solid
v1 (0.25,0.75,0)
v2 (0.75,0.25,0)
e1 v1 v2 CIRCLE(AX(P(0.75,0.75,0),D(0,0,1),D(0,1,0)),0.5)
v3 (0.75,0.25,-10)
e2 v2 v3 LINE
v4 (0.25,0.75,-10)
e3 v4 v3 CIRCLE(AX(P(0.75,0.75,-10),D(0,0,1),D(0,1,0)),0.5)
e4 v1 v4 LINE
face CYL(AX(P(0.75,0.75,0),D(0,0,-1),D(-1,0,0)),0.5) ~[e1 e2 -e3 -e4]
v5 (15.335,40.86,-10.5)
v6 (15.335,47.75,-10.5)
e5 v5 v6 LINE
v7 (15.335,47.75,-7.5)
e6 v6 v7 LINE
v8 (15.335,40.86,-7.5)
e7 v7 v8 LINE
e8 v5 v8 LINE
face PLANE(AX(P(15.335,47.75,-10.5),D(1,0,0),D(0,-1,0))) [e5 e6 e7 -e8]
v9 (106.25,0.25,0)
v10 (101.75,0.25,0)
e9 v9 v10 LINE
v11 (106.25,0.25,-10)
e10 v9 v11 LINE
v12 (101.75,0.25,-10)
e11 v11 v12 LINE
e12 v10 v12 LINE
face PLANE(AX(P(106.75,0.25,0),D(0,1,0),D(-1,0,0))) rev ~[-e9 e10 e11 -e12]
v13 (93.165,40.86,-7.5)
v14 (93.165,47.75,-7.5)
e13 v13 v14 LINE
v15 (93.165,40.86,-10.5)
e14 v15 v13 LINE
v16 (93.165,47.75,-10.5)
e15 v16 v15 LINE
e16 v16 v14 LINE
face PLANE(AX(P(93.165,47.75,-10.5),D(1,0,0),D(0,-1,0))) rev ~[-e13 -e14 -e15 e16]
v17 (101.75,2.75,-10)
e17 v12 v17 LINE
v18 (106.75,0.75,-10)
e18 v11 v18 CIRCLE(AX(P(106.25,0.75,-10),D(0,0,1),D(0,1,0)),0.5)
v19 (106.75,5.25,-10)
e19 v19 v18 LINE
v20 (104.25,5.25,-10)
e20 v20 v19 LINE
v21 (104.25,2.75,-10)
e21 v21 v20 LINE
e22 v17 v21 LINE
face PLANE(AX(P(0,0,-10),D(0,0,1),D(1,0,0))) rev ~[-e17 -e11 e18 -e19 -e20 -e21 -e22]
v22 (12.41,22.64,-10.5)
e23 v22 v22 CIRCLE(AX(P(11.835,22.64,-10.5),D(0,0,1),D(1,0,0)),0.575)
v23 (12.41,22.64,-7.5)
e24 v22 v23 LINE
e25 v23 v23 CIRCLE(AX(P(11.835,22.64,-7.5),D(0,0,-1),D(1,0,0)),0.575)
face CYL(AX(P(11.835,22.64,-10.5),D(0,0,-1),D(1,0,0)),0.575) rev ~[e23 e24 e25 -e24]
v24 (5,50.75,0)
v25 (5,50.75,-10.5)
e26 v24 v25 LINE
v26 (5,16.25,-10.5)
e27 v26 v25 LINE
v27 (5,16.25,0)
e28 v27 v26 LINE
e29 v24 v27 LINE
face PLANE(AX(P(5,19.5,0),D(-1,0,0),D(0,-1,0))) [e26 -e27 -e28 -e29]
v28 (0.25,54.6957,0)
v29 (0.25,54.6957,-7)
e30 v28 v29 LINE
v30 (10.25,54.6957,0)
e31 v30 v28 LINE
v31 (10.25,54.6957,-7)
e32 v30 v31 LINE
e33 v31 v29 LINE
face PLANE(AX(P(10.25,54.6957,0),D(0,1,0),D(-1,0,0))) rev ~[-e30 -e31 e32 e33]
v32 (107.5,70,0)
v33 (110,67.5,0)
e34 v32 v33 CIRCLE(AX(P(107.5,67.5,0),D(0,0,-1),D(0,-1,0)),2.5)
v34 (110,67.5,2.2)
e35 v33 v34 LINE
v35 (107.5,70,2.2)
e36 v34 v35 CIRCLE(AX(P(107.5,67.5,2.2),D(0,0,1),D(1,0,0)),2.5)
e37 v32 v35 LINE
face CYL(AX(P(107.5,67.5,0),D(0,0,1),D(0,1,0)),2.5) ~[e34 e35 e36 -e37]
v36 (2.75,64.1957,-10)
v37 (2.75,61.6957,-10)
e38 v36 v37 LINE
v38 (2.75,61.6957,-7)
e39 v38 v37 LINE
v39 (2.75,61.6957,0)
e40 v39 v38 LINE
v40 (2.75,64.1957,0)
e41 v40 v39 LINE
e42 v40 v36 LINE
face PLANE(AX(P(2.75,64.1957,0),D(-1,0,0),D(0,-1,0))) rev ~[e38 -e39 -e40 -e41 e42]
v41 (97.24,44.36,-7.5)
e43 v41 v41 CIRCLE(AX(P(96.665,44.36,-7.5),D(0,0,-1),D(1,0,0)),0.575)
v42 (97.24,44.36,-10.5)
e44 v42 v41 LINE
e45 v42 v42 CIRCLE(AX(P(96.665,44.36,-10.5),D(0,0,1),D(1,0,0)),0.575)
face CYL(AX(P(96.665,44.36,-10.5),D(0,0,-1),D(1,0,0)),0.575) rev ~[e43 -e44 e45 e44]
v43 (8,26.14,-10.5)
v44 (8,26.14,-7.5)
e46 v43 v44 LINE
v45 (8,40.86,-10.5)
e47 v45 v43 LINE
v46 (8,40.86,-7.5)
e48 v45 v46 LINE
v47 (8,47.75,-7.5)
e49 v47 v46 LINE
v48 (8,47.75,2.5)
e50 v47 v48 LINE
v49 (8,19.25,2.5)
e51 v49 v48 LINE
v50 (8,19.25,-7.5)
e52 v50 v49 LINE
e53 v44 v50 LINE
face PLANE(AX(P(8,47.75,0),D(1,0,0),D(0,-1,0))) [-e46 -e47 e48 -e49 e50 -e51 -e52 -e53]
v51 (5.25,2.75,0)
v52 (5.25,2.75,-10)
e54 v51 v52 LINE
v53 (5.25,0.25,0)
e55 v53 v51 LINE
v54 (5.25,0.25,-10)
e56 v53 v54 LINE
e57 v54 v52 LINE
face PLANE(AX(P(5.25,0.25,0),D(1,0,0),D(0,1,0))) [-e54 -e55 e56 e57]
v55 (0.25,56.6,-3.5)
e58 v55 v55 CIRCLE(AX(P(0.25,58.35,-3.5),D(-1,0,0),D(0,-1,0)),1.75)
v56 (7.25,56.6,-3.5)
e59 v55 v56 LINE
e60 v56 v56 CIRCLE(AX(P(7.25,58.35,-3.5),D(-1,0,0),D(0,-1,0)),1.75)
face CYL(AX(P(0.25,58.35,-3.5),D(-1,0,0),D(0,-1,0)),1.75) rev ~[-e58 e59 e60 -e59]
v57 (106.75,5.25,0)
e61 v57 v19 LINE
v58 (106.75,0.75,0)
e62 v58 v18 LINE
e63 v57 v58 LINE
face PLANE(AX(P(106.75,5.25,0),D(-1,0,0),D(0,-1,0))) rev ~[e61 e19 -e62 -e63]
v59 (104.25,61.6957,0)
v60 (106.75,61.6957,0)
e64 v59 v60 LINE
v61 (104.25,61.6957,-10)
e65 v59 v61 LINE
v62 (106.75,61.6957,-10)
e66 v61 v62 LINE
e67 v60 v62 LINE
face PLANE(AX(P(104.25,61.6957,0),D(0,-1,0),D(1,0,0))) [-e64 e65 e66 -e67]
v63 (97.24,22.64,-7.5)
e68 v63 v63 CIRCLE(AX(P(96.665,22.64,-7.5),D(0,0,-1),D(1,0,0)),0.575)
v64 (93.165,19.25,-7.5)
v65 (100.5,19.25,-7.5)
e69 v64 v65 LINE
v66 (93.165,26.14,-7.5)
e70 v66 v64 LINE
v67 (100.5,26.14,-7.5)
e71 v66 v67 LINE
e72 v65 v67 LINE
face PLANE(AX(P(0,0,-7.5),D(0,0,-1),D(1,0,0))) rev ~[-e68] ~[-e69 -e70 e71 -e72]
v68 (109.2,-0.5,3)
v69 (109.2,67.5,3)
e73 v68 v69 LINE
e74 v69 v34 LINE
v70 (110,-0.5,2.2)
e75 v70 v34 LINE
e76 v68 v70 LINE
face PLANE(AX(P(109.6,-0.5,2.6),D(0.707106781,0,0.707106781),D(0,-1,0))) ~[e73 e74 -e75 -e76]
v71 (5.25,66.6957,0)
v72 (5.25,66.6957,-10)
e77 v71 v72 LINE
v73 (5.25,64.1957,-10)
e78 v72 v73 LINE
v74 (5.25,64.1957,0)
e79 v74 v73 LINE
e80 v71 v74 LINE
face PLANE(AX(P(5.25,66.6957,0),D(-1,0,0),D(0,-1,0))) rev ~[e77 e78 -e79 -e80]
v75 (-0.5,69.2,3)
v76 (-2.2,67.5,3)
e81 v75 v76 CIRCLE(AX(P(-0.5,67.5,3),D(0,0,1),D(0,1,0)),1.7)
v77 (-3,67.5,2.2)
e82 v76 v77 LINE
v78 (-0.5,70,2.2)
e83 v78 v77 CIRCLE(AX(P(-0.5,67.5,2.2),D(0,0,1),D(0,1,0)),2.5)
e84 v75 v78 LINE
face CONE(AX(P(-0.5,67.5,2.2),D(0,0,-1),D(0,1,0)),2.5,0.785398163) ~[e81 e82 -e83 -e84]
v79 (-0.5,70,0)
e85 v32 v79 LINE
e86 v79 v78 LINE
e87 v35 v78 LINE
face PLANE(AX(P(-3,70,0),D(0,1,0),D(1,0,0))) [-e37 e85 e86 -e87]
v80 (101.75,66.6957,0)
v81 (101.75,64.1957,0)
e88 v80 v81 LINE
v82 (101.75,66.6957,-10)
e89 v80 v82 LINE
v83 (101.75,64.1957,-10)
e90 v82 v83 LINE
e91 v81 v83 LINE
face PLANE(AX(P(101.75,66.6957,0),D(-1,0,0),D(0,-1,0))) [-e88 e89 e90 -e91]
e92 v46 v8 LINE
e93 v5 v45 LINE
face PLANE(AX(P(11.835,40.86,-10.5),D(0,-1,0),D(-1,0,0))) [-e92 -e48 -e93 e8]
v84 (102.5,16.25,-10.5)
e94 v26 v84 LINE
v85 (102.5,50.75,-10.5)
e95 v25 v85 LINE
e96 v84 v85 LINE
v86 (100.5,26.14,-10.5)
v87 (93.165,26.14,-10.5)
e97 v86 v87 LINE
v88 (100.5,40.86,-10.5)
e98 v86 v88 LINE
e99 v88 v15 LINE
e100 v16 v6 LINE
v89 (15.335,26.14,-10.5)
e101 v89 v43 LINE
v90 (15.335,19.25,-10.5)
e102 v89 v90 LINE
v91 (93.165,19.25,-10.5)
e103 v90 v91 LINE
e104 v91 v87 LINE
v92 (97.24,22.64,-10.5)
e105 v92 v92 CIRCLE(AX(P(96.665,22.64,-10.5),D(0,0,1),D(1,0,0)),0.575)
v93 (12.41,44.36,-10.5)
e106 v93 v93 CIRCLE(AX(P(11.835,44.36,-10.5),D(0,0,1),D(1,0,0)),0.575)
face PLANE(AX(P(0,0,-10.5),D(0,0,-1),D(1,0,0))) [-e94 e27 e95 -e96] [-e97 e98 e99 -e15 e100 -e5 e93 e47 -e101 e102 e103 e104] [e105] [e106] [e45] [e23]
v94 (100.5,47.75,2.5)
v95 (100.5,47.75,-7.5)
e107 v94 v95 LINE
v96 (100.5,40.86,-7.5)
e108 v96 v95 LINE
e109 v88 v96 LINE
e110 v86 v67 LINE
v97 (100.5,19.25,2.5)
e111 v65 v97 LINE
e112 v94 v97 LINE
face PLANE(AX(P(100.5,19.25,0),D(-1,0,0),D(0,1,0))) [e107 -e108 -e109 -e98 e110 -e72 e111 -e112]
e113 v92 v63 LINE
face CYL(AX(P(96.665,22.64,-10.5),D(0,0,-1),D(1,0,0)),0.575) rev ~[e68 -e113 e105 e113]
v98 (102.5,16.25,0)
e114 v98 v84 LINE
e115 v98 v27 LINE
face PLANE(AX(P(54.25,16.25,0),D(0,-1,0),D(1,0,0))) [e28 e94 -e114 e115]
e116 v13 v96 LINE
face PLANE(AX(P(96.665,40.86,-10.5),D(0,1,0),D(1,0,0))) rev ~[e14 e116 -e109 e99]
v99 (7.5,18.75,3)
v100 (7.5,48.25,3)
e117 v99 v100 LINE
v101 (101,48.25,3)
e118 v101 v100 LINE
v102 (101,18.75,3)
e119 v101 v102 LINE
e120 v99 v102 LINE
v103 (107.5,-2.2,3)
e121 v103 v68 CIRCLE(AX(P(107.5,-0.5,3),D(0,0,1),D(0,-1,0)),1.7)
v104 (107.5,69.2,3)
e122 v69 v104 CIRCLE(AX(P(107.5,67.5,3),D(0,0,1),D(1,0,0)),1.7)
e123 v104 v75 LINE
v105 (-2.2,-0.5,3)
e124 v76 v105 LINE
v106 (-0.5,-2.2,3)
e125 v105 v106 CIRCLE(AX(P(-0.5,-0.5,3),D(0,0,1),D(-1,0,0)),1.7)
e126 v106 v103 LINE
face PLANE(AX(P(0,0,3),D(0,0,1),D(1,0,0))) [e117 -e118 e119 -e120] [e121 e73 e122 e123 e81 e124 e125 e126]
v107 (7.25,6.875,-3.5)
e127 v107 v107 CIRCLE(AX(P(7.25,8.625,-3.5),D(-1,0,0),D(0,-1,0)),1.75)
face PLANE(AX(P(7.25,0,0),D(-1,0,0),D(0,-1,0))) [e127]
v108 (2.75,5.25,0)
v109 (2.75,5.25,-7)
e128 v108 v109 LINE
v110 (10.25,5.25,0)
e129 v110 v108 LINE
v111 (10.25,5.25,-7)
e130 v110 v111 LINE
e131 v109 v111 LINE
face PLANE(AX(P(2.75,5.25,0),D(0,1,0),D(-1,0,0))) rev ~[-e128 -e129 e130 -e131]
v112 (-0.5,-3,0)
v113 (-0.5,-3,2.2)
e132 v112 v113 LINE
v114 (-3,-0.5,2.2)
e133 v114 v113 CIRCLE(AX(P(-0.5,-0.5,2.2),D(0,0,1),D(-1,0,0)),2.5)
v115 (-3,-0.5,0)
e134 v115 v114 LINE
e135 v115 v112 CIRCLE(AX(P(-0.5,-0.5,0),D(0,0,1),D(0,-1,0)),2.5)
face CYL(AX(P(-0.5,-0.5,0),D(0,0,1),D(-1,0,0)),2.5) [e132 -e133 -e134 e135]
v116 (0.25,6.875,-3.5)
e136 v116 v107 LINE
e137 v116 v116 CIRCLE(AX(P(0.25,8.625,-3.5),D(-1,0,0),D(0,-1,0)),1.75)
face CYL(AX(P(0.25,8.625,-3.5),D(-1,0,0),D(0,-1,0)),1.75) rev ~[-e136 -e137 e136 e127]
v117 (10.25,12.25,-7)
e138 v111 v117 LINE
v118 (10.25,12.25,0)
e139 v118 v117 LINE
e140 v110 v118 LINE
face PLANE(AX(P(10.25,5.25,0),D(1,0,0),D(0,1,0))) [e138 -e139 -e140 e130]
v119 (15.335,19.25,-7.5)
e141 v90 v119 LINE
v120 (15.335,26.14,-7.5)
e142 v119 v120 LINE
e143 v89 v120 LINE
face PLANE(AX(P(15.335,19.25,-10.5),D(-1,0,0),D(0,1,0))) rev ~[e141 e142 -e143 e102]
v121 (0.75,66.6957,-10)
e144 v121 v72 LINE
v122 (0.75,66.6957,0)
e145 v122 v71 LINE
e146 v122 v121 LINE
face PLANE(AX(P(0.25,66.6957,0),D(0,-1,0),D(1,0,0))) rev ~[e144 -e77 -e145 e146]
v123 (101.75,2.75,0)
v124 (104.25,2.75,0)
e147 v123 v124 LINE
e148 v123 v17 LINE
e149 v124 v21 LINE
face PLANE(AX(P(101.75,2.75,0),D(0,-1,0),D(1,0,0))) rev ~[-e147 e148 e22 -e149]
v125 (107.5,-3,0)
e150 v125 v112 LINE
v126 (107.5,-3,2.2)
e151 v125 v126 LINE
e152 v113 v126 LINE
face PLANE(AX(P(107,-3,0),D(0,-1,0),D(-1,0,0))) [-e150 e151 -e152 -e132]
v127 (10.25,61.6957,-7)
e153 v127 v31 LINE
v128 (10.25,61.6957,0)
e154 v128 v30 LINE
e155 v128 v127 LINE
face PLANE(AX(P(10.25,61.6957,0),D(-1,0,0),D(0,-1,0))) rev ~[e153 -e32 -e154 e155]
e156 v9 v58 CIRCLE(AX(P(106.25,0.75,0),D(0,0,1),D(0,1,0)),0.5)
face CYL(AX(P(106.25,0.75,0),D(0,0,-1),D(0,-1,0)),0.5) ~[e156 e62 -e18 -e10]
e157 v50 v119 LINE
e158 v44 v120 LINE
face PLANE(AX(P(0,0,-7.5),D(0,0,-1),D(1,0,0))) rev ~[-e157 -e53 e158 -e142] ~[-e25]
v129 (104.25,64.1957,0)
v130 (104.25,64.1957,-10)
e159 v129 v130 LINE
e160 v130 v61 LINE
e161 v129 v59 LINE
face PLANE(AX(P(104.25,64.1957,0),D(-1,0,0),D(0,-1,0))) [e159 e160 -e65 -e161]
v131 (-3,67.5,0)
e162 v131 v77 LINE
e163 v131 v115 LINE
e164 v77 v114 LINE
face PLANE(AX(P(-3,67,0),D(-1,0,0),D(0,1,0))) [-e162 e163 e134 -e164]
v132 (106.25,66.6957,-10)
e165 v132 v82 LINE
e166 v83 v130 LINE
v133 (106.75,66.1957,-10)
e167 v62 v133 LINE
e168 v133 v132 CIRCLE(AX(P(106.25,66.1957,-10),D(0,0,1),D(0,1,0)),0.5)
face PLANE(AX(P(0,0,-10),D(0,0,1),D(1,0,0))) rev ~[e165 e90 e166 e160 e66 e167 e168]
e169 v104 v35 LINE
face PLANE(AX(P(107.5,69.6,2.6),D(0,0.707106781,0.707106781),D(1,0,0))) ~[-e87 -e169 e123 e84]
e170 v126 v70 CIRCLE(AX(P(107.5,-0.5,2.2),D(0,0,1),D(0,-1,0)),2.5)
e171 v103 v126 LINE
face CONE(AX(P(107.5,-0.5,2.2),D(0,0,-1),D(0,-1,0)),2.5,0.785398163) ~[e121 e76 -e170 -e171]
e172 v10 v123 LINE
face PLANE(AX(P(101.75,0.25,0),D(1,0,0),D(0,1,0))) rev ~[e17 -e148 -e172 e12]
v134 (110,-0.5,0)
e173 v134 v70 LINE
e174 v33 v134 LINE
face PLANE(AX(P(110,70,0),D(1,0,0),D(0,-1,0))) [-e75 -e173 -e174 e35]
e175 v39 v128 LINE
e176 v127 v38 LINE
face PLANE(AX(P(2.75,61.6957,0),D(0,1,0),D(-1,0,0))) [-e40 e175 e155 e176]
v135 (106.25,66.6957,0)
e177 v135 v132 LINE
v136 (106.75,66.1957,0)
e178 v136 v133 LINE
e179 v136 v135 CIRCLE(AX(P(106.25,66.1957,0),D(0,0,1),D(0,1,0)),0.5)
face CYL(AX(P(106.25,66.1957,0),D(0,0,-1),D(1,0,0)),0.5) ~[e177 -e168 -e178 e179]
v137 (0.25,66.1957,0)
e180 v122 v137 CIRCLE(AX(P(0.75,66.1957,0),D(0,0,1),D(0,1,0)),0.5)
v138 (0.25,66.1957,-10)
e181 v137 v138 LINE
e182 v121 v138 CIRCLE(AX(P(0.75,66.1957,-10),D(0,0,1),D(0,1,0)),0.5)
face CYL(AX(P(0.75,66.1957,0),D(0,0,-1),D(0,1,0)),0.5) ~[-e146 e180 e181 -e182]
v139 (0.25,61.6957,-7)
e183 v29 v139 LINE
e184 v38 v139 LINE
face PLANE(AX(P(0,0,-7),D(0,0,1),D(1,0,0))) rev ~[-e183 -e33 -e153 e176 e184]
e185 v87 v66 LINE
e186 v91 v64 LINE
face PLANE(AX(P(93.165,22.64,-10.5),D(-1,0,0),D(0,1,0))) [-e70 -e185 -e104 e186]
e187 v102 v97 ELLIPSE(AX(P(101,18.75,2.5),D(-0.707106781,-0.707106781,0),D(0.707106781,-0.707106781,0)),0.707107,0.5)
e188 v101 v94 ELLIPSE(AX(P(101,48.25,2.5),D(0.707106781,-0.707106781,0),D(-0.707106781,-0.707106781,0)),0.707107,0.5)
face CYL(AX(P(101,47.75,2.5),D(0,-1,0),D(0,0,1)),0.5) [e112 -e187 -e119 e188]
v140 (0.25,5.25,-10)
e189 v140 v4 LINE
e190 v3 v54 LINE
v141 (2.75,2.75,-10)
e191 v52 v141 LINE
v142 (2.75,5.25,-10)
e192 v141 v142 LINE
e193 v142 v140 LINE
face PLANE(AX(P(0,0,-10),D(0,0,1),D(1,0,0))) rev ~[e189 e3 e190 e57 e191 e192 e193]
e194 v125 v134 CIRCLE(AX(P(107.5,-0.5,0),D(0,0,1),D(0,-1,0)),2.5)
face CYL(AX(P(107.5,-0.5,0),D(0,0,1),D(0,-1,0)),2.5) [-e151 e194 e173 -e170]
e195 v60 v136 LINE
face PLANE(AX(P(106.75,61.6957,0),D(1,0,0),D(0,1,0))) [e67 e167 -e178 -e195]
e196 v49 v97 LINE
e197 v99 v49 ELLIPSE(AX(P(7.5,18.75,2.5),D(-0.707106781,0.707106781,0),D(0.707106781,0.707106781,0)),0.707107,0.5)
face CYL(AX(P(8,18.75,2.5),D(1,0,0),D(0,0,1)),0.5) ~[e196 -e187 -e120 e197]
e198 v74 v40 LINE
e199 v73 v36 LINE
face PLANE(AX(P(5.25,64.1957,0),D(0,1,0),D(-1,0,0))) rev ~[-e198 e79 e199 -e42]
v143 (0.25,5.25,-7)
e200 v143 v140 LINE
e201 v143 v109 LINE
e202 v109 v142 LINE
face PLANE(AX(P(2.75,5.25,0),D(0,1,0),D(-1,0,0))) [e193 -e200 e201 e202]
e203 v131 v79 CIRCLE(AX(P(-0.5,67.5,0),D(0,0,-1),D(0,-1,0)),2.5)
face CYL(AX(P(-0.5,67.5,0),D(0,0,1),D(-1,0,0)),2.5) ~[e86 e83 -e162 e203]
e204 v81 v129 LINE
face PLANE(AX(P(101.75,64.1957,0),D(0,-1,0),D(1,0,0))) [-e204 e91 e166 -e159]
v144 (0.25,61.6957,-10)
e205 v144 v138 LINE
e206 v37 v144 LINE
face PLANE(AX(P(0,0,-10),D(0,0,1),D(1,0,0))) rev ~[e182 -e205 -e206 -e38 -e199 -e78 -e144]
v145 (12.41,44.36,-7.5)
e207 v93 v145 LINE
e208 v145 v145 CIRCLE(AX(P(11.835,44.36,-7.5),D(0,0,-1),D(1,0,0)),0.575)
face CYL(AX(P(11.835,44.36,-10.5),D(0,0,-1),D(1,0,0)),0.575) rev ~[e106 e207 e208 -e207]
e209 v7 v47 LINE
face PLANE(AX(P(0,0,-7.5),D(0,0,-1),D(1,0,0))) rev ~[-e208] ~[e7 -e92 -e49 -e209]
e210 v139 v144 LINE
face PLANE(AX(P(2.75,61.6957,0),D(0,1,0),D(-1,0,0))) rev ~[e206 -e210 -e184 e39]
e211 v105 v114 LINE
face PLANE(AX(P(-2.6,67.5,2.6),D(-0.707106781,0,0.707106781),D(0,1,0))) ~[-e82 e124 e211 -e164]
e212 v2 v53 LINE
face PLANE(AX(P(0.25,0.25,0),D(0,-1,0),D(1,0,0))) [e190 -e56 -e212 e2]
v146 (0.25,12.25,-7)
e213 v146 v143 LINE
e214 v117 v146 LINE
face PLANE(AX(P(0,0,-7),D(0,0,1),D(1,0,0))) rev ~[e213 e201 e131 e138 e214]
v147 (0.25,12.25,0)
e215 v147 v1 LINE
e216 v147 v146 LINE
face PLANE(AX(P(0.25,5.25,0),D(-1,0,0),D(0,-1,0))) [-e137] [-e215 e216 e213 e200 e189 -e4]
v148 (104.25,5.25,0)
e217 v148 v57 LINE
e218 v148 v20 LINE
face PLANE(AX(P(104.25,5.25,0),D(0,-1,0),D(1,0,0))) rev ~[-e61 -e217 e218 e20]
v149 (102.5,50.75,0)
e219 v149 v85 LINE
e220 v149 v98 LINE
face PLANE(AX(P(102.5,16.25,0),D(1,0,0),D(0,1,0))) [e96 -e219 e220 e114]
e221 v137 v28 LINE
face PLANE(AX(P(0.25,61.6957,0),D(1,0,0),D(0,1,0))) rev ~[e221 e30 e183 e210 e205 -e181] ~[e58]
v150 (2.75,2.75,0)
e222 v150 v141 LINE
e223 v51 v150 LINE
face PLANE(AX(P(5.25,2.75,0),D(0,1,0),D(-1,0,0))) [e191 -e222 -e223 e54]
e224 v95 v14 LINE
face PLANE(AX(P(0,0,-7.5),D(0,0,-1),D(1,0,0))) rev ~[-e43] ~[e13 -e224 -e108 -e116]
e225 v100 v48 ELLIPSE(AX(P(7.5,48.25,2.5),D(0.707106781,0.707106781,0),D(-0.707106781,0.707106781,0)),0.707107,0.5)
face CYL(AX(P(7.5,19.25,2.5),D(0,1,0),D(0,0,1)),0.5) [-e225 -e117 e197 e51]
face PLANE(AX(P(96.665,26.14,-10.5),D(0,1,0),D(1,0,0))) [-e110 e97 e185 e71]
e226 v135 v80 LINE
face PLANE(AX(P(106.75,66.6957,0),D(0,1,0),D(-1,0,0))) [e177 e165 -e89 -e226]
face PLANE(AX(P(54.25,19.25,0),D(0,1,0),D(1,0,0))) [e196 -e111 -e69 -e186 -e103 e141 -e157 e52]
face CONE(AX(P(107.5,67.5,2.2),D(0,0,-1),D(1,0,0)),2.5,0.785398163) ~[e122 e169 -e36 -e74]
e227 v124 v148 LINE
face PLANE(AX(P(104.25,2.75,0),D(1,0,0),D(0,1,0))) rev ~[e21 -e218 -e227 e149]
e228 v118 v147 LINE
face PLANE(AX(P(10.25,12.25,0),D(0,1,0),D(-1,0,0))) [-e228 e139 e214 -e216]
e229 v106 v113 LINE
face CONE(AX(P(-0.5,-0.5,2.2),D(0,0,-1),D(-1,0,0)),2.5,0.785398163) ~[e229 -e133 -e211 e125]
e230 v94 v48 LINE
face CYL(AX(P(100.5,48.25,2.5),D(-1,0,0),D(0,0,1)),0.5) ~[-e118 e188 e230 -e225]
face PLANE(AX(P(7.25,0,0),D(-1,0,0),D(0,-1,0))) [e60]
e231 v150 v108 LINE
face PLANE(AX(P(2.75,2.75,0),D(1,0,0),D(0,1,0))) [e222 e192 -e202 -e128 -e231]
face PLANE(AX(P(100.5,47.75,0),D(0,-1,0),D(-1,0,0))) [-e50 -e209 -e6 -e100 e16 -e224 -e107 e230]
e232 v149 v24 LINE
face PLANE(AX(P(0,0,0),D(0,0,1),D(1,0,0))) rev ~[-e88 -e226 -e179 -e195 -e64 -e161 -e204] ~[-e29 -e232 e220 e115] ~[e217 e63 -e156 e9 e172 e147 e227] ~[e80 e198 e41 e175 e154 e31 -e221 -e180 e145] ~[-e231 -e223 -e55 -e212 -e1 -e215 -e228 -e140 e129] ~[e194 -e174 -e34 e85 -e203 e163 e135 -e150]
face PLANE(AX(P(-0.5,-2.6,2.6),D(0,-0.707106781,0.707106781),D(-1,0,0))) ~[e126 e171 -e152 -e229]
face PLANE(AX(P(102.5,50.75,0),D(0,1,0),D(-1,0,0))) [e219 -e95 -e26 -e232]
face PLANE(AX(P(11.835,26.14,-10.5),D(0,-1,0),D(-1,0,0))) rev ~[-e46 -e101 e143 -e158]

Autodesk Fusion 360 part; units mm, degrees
sketch "Sketch1" plane through (0, 0, 0) normal (0, 0, 1) x (1, 0, 0)
  line L0 (0, 0) -> (107, 0)
  line L1 (107, 0) -> (107, 67)
  line L2 (107, 67) -> (0, 67)
  line L3 (0, 67) -> (0, 0)
  line L4 (-3, 67) -> (-3, 70)
  line L5 (-3, 70) -> (0, 70)
  line L6 (110, 0) -> (110, -3)
  line L7 (110, -3) -> (107, -3)
  line L8 (-3, 70) -> (110, 70)
  line L9 (110, 70) -> (110, -3)
  line L10 (110, -3) -> (-3, -3)
  line L11 (-3, -3) -> (-3, 70)
  dimension "d1" = 67
  dimension "d2" = 107
  dimension "d3" = 3
  dimension "d4" = 3
  dimension "d5" = 3
extrude "Extrude1" add sketch "Sketch1" along normal blind 3
extrude "Extrude2" add sketch "Sketch1" along normal blind 3 contours L0 L1 L2 L3
fillet "Fillet1" radius 2.5 4 edges at (-3, 70, 1.5) (110, 70, 1.5) (110, -3, 1.5) (-3, -3, 1.5)
sketch "Sketch2" plane through (0, 0, 0) normal (0, 0, 1) x (1, 0, 0)
  line L0 (117.8476, 33.4729) -> (-7.2698, 33.4729)
  line L1 (53.5, 5) -> (53.5, 52.788)
  line L2 (0, 67) -> (0, 0)
  line L3 (2.75, 2.75) -> (2.75, 5.25)
  line L4 (2.75, 5.25) -> (0.25, 5.25)
  line L5 (0.25, 5.25) -> (0.25, 0.25)
  line L6 (0, 0) -> (107, 0)
  line L7 (0.25, 0.25) -> (5.25, 0.25)
  line L8 (5.25, 0.25) -> (5.25, 2.75)
  line L9 (5.25, 2.75) -> (2.75, 2.75)
  line L10 (5.25, 66.6957) -> (5.25, 64.1957)
  line L11 (5.25, 64.1957) -> (2.75, 64.1957)
  line L12 (2.75, 64.1957) -> (2.75, 61.6957)
  line L13 (2.75, 61.6957) -> (0.25, 61.6957)
  line L14 (0.25, 61.6957) -> (0.25, 66.6957)
  line L15 (0.25, 66.6957) -> (5.25, 66.6957)
  line L16 (101.75, 0.25) -> (101.75, 2.75)
  line L17 (106.75, 0.25) -> (101.75, 0.25)
  line L18 (106.75, 5.25) -> (106.75, 0.25)
  line L19 (104.25, 5.25) -> (106.75, 5.25)
  line L20 (104.25, 2.75) -> (104.25, 5.25)
  line L21 (101.75, 2.75) -> (104.25, 2.75)
  line L22 (101.75, 64.1957) -> (104.25, 64.1957)
  line L23 (101.75, 66.6957) -> (101.75, 64.1957)
  line L24 (106.75, 66.6957) -> (101.75, 66.6957)
  line L25 (106.75, 61.6957) -> (106.75, 66.6957)
  line L26 (104.25, 61.6957) -> (106.75, 61.6957)
  line L27 (104.25, 64.1957) -> (104.25, 61.6957)
  line L28 (0.25, 5.25) -> (10.25, 5.25)
  line L29 (10.25, 5.25) -> (10.25, 12.25)
  line L30 (10.25, 12.25) -> (0.25, 12.25)
  line L31 (0.25, 12.25) -> (0.25, 5.25)
  line L32 (0.25, 61.6957) -> (10.25, 61.6957)
  line L33 (10.25, 61.6957) -> (10.25, 54.6957)
  line L34 (10.25, 54.6957) -> (0.25, 54.6957)
  line L35 (0.25, 54.6957) -> (0.25, 61.6957)
  dimension "d14" = 53.5
  dimension "d16" = 5
  dimension "d17" = 0.25
  dimension "d19" = 5
  dimension "d55" = 10
  dimension "d56" = 7
  dimension "d57" = 10
  dimension "d58" = 7
extrude "Extrude3" add sketch "Sketch2" against normal blind 10 contours L3 L4 L5 L7 L8 L9 L28 | L10 L11 L12 L13 L14 L15 L32 | L16 L17 L18 L19 L20 L21 | L22 L23 L24 L25 L26 L27
fillet "Fillet2" radius 0.5 4 edges at (106.75, 0.25, -5) (106.75, 66.6957, -5) (0.25, 66.6957, -5) (0.25, 0.25, -5)
sketch "Sketch3" plane through (0, 0, 0) normal (0, 0, -1) x (1, 0, 0)
  line L0 (101.75, -0.25) -> (106.25, -0.25)
  arc A0 (106.75, -0.75) -> (106.25, -0.25) centre (106.25, -0.75) ccw
  line L1 (106.75, -0.75) -> (106.75, -5.25)
  line L2 (106.75, -5.25) -> (104.25, -5.25)
  line L3 (104.25, -5.25) -> (104.25, -2.75)
  line L4 (104.25, -2.75) -> (101.75, -2.75)
  line L5 (101.75, -2.75) -> (101.75, -0.25)
  line L6 (2.75, -2.75) -> (2.75, -5.25)
  line L7 (2.75, -5.25) -> (0.25, -5.25)
  line L8 (0.25, -5.25) -> (0.25, -0.75)
  arc A1 (0.75, -0.25) -> (0.25, -0.75) centre (0.75, -0.75) ccw
  line L9 (0.75, -0.25) -> (5.25, -0.25)
  line L10 (5.25, -0.25) -> (5.25, -2.75)
  line L11 (5.25, -2.75) -> (2.75, -2.75)
  line L12 (104.25, -61.6957) -> (106.75, -61.6957)
  line L13 (106.75, -61.6957) -> (106.75, -66.1957)
  arc A2 (106.25, -66.6957) -> (106.75, -66.1957) centre (106.25, -66.1957) ccw
  line L14 (106.25, -66.6957) -> (101.75, -66.6957)
  line L15 (101.75, -66.6957) -> (101.75, -64.1957)
  line L16 (101.75, -64.1957) -> (104.25, -64.1957)
  line L17 (104.25, -64.1957) -> (104.25, -61.6957)
  line L18 (0.25, -61.6957) -> (2.75, -61.6957)
  line L19 (2.75, -61.6957) -> (2.75, -64.1957)
  line L20 (2.75, -64.1957) -> (5.25, -64.1957)
  line L21 (5.25, -64.1957) -> (5.25, -66.6957)
  line L22 (5.25, -66.6957) -> (0.75, -66.6957)
  arc A3 (0.25, -66.1957) -> (0.75, -66.6957) centre (0.75, -66.1957) ccw
  line L23 (0.25, -66.1957) -> (0.25, -61.6957)
  arc A4 (-0.5, 3) -> (-3, 0.5) centre (-0.5, 0.5) ccw
  line L24 (-3, 0.5) -> (-3, -67.5)
  arc A5 (-3, -67.5) -> (-0.5, -70) centre (-0.5, -67.5) ccw
  line L25 (-0.5, -70) -> (107.5, -70)
  arc A6 (107.5, -70) -> (110, -67.5) centre (107.5, -67.5) ccw
  line L26 (110, -67.5) -> (110, 0.5)
  arc A7 (110, 0.5) -> (107.5, 3) centre (107.5, 0.5) ccw
  line L27 (107.5, 3) -> (-0.5, 3)
  line L28 (8, -19.25) -> (100.5, -19.25)
  line L29 (100.5, -19.25) -> (100.5, -47.75)
  line L30 (100.5, -47.75) -> (8, -47.75)
  line L31 (8, -47.75) -> (8, -19.25)
  line L32 (54.25, -19.25) -> (54.25, 3)
  line L33 (54.25, -47.75) -> (54.25, -70)
  line L34 (102.5, -47.75) -> (102.5, -50.75)
  line L35 (102.5, -50.75) -> (100.5, -50.75)
  line L36 (5, -19.5) -> (5, -16.25)
  line L37 (5, -16.25) -> (8, -16.25)
  line L38 (5, -16.25) -> (102.5, -16.25)
  line L39 (102.5, -16.25) -> (102.5, -50.75)
  line L40 (102.5, -50.75) -> (5, -50.75)
  line L41 (5, -50.75) -> (5, -16.25)
  dimension "d25" = 28.5
  dimension "d26" = 92.5
  dimension "d27" = 7.75
  dimension "d28" = 2
  dimension "d29" = 3
  dimension "d30" = 3
extrude "Extrude4" cut sketch "Sketch3" against normal blind 5 contours L28 L29 L30 L31
extrude "Extrude5" add sketch "Sketch3" along normal blind 10.5 contours L28 L29 L30 L32 L33 L34 L35 L38 L39 L40 | L28 L30 L31 L32 L33 L36 L37 L38 L40 L41
sketch "Sketch4" plane through (0, 0, -10.5) normal (0, 0, -1) x (1, 0, 0)
  line L0 (100.5, -47.75) -> (8, -47.75)
  line L1 (8, -47.75) -> (8, -19.25)
  line L2 (8, -19.25) -> (100.5, -19.25)
  line L3 (100.5, -19.25) -> (100.5, -47.75)
  line L4 (5, -50.75) -> (102.5, -50.75)
  line L5 (102.5, -50.75) -> (102.5, -16.25)
  line L6 (102.5, -16.25) -> (5, -16.25)
  line L7 (5, -16.25) -> (5, -50.75)
  circle A0 centre (11.835, -22.64) radius 0.575
  circle A1 centre (96.665, -22.64) radius 0.575
  circle A2 centre (96.665, -44.36) radius 0.575
  circle A3 centre (11.835, -44.36) radius 0.575
  line L8 (12.41, -22.64) -> (15.335, -22.64)
  line L9 (15.335, -22.64) -> (15.335, -26.14)
  line L10 (15.335, -26.14) -> (11.835, -26.14)
  line L11 (11.835, -26.14) -> (11.835, -23.215)
  line L12 (12.41, -44.36) -> (15.335, -44.36)
  line L13 (15.335, -44.36) -> (15.335, -40.86)
  line L14 (15.335, -40.86) -> (11.835, -40.86)
  line L15 (11.835, -40.86) -> (11.835, -43.785)
  line L16 (96.09, -44.36) -> (93.165, -44.36)
  line L17 (93.165, -44.36) -> (93.165, -40.86)
  line L18 (93.165, -40.86) -> (96.665, -40.86)
  line L19 (96.665, -40.86) -> (96.665, -43.785)
  line L20 (96.09, -22.64) -> (93.165, -22.64)
  line L21 (93.165, -22.64) -> (93.165, -26.14)
  line L22 (93.165, -26.14) -> (96.665, -26.14)
  line L23 (96.665, -26.14) -> (96.665, -23.215)
  line L24 (93.165, -26.14) -> (100.5, -26.14)
  line L25 (100.5, -26.14) -> (100.5, -19.25)
  line L26 (100.5, -19.25) -> (93.165, -19.25)
  line L27 (93.165, -19.25) -> (93.165, -26.14)
  line L28 (93.165, -40.86) -> (100.5, -40.86)
  line L29 (100.5, -40.86) -> (100.5, -47.75)
  line L30 (100.5, -47.75) -> (93.165, -47.75)
  line L31 (93.165, -47.75) -> (93.165, -40.86)
  line L32 (15.335, -40.86) -> (8, -40.86)
  line L33 (8, -40.86) -> (8, -47.75)
  line L34 (8, -47.75) -> (15.335, -47.75)
  line L35 (15.335, -47.75) -> (15.335, -40.86)
  line L36 (15.335, -26.14) -> (8, -26.14)
  line L37 (8, -26.14) -> (8, -19.25)
  line L38 (8, -19.25) -> (15.335, -19.25)
  line L39 (15.335, -19.25) -> (15.335, -26.14)
  dimension "d36" = 84.83
  dimension "d39" = 1.15
  dimension "d40" = 1.15
  dimension "d41" = 1.15
  dimension "d42" = 1.15
  dimension "d43" = 3.5
  dimension "d44" = 3.5
  dimension "d45" = 3.5
  dimension "d46" = 3.5
  dimension "d47" = 3.5
  dimension "d48" = 3.5
  dimension "d49" = 3.5
  dimension "d50" = 3.5
extrude "Extrude6" add sketch "Sketch4" against normal blind 3 contours L0 L3 A2 L16 L19 L28 L29 L30 L31 | L0 L1 A3 L12 L15 L32 L33 L34 L35 | A2 L16 L17 L18 L19 L28 L31 | L2 L3 A1 L20 L23 L24 L25 L26 L27 | A3 L12 L13 L14 L15 L32 L35 | A1 L20 L21 L22 L23 L24 L27 | L1 L2 A0 L8 L11 L36 L37 L38 L39 | A0 L8 L9 L10 L11 L36 L39
fillet "Fillet3" radius 0.5 4 edges at (54.25, 19.25, 3) (54.25, 47.75, 3) (8, 33.5, 3) (100.5, 33.5, 3)
extrude "Extrude7" add sketch "Sketch2" against normal blind 7 contours L4 L28 L29 L30 L31 | L13 L32 L33 L34 L35
sketch "Sketch5" plane through (0.25, 0, 0) normal (-1, 0, 0) x (0, -1, 0)
  line L0 (-0.75, -10) -> (-0.75, 0)
  line L1 (-0.75, 0) -> (-12.25, 0)
  line L2 (-12.25, 0) -> (-12.25, -7)
  line L3 (-12.25, -7) -> (-5.25, -7)
  line L4 (-5.25, -7) -> (-5.25, -10)
  line L5 (-5.25, -10) -> (-0.75, -10)
  circle A0 centre (-8.625, -3.5) radius 5.0389
  circle A1 centre (-8.625, -3.5) radius 1.75
  circle A2 centre (-58.35, -3.5) radius 5.0569
  circle A3 centre (-58.35, -3.5) radius 1.75
  dimension "d61" = 3.5
  dimension "d62" = 3.5
extrude "Extrude8" cut sketch "Sketch5" against normal blind 7 contours A1 | A3
chamfer "Chamfer1" distance 0.8 angle 45 8 edges at (110, 33.5, 3) (109.2678, 69.2678, 3) (53.5, 70, 3) (-2.2678, 69.2678, 3) (-3, 33.5, 3) (-2.2678, -2.2678, 3) (53.5, -3, 3) (109.2678, -2.2678, 3)
equation "d14 = ( 107 / 2 ) * 1 mm"
